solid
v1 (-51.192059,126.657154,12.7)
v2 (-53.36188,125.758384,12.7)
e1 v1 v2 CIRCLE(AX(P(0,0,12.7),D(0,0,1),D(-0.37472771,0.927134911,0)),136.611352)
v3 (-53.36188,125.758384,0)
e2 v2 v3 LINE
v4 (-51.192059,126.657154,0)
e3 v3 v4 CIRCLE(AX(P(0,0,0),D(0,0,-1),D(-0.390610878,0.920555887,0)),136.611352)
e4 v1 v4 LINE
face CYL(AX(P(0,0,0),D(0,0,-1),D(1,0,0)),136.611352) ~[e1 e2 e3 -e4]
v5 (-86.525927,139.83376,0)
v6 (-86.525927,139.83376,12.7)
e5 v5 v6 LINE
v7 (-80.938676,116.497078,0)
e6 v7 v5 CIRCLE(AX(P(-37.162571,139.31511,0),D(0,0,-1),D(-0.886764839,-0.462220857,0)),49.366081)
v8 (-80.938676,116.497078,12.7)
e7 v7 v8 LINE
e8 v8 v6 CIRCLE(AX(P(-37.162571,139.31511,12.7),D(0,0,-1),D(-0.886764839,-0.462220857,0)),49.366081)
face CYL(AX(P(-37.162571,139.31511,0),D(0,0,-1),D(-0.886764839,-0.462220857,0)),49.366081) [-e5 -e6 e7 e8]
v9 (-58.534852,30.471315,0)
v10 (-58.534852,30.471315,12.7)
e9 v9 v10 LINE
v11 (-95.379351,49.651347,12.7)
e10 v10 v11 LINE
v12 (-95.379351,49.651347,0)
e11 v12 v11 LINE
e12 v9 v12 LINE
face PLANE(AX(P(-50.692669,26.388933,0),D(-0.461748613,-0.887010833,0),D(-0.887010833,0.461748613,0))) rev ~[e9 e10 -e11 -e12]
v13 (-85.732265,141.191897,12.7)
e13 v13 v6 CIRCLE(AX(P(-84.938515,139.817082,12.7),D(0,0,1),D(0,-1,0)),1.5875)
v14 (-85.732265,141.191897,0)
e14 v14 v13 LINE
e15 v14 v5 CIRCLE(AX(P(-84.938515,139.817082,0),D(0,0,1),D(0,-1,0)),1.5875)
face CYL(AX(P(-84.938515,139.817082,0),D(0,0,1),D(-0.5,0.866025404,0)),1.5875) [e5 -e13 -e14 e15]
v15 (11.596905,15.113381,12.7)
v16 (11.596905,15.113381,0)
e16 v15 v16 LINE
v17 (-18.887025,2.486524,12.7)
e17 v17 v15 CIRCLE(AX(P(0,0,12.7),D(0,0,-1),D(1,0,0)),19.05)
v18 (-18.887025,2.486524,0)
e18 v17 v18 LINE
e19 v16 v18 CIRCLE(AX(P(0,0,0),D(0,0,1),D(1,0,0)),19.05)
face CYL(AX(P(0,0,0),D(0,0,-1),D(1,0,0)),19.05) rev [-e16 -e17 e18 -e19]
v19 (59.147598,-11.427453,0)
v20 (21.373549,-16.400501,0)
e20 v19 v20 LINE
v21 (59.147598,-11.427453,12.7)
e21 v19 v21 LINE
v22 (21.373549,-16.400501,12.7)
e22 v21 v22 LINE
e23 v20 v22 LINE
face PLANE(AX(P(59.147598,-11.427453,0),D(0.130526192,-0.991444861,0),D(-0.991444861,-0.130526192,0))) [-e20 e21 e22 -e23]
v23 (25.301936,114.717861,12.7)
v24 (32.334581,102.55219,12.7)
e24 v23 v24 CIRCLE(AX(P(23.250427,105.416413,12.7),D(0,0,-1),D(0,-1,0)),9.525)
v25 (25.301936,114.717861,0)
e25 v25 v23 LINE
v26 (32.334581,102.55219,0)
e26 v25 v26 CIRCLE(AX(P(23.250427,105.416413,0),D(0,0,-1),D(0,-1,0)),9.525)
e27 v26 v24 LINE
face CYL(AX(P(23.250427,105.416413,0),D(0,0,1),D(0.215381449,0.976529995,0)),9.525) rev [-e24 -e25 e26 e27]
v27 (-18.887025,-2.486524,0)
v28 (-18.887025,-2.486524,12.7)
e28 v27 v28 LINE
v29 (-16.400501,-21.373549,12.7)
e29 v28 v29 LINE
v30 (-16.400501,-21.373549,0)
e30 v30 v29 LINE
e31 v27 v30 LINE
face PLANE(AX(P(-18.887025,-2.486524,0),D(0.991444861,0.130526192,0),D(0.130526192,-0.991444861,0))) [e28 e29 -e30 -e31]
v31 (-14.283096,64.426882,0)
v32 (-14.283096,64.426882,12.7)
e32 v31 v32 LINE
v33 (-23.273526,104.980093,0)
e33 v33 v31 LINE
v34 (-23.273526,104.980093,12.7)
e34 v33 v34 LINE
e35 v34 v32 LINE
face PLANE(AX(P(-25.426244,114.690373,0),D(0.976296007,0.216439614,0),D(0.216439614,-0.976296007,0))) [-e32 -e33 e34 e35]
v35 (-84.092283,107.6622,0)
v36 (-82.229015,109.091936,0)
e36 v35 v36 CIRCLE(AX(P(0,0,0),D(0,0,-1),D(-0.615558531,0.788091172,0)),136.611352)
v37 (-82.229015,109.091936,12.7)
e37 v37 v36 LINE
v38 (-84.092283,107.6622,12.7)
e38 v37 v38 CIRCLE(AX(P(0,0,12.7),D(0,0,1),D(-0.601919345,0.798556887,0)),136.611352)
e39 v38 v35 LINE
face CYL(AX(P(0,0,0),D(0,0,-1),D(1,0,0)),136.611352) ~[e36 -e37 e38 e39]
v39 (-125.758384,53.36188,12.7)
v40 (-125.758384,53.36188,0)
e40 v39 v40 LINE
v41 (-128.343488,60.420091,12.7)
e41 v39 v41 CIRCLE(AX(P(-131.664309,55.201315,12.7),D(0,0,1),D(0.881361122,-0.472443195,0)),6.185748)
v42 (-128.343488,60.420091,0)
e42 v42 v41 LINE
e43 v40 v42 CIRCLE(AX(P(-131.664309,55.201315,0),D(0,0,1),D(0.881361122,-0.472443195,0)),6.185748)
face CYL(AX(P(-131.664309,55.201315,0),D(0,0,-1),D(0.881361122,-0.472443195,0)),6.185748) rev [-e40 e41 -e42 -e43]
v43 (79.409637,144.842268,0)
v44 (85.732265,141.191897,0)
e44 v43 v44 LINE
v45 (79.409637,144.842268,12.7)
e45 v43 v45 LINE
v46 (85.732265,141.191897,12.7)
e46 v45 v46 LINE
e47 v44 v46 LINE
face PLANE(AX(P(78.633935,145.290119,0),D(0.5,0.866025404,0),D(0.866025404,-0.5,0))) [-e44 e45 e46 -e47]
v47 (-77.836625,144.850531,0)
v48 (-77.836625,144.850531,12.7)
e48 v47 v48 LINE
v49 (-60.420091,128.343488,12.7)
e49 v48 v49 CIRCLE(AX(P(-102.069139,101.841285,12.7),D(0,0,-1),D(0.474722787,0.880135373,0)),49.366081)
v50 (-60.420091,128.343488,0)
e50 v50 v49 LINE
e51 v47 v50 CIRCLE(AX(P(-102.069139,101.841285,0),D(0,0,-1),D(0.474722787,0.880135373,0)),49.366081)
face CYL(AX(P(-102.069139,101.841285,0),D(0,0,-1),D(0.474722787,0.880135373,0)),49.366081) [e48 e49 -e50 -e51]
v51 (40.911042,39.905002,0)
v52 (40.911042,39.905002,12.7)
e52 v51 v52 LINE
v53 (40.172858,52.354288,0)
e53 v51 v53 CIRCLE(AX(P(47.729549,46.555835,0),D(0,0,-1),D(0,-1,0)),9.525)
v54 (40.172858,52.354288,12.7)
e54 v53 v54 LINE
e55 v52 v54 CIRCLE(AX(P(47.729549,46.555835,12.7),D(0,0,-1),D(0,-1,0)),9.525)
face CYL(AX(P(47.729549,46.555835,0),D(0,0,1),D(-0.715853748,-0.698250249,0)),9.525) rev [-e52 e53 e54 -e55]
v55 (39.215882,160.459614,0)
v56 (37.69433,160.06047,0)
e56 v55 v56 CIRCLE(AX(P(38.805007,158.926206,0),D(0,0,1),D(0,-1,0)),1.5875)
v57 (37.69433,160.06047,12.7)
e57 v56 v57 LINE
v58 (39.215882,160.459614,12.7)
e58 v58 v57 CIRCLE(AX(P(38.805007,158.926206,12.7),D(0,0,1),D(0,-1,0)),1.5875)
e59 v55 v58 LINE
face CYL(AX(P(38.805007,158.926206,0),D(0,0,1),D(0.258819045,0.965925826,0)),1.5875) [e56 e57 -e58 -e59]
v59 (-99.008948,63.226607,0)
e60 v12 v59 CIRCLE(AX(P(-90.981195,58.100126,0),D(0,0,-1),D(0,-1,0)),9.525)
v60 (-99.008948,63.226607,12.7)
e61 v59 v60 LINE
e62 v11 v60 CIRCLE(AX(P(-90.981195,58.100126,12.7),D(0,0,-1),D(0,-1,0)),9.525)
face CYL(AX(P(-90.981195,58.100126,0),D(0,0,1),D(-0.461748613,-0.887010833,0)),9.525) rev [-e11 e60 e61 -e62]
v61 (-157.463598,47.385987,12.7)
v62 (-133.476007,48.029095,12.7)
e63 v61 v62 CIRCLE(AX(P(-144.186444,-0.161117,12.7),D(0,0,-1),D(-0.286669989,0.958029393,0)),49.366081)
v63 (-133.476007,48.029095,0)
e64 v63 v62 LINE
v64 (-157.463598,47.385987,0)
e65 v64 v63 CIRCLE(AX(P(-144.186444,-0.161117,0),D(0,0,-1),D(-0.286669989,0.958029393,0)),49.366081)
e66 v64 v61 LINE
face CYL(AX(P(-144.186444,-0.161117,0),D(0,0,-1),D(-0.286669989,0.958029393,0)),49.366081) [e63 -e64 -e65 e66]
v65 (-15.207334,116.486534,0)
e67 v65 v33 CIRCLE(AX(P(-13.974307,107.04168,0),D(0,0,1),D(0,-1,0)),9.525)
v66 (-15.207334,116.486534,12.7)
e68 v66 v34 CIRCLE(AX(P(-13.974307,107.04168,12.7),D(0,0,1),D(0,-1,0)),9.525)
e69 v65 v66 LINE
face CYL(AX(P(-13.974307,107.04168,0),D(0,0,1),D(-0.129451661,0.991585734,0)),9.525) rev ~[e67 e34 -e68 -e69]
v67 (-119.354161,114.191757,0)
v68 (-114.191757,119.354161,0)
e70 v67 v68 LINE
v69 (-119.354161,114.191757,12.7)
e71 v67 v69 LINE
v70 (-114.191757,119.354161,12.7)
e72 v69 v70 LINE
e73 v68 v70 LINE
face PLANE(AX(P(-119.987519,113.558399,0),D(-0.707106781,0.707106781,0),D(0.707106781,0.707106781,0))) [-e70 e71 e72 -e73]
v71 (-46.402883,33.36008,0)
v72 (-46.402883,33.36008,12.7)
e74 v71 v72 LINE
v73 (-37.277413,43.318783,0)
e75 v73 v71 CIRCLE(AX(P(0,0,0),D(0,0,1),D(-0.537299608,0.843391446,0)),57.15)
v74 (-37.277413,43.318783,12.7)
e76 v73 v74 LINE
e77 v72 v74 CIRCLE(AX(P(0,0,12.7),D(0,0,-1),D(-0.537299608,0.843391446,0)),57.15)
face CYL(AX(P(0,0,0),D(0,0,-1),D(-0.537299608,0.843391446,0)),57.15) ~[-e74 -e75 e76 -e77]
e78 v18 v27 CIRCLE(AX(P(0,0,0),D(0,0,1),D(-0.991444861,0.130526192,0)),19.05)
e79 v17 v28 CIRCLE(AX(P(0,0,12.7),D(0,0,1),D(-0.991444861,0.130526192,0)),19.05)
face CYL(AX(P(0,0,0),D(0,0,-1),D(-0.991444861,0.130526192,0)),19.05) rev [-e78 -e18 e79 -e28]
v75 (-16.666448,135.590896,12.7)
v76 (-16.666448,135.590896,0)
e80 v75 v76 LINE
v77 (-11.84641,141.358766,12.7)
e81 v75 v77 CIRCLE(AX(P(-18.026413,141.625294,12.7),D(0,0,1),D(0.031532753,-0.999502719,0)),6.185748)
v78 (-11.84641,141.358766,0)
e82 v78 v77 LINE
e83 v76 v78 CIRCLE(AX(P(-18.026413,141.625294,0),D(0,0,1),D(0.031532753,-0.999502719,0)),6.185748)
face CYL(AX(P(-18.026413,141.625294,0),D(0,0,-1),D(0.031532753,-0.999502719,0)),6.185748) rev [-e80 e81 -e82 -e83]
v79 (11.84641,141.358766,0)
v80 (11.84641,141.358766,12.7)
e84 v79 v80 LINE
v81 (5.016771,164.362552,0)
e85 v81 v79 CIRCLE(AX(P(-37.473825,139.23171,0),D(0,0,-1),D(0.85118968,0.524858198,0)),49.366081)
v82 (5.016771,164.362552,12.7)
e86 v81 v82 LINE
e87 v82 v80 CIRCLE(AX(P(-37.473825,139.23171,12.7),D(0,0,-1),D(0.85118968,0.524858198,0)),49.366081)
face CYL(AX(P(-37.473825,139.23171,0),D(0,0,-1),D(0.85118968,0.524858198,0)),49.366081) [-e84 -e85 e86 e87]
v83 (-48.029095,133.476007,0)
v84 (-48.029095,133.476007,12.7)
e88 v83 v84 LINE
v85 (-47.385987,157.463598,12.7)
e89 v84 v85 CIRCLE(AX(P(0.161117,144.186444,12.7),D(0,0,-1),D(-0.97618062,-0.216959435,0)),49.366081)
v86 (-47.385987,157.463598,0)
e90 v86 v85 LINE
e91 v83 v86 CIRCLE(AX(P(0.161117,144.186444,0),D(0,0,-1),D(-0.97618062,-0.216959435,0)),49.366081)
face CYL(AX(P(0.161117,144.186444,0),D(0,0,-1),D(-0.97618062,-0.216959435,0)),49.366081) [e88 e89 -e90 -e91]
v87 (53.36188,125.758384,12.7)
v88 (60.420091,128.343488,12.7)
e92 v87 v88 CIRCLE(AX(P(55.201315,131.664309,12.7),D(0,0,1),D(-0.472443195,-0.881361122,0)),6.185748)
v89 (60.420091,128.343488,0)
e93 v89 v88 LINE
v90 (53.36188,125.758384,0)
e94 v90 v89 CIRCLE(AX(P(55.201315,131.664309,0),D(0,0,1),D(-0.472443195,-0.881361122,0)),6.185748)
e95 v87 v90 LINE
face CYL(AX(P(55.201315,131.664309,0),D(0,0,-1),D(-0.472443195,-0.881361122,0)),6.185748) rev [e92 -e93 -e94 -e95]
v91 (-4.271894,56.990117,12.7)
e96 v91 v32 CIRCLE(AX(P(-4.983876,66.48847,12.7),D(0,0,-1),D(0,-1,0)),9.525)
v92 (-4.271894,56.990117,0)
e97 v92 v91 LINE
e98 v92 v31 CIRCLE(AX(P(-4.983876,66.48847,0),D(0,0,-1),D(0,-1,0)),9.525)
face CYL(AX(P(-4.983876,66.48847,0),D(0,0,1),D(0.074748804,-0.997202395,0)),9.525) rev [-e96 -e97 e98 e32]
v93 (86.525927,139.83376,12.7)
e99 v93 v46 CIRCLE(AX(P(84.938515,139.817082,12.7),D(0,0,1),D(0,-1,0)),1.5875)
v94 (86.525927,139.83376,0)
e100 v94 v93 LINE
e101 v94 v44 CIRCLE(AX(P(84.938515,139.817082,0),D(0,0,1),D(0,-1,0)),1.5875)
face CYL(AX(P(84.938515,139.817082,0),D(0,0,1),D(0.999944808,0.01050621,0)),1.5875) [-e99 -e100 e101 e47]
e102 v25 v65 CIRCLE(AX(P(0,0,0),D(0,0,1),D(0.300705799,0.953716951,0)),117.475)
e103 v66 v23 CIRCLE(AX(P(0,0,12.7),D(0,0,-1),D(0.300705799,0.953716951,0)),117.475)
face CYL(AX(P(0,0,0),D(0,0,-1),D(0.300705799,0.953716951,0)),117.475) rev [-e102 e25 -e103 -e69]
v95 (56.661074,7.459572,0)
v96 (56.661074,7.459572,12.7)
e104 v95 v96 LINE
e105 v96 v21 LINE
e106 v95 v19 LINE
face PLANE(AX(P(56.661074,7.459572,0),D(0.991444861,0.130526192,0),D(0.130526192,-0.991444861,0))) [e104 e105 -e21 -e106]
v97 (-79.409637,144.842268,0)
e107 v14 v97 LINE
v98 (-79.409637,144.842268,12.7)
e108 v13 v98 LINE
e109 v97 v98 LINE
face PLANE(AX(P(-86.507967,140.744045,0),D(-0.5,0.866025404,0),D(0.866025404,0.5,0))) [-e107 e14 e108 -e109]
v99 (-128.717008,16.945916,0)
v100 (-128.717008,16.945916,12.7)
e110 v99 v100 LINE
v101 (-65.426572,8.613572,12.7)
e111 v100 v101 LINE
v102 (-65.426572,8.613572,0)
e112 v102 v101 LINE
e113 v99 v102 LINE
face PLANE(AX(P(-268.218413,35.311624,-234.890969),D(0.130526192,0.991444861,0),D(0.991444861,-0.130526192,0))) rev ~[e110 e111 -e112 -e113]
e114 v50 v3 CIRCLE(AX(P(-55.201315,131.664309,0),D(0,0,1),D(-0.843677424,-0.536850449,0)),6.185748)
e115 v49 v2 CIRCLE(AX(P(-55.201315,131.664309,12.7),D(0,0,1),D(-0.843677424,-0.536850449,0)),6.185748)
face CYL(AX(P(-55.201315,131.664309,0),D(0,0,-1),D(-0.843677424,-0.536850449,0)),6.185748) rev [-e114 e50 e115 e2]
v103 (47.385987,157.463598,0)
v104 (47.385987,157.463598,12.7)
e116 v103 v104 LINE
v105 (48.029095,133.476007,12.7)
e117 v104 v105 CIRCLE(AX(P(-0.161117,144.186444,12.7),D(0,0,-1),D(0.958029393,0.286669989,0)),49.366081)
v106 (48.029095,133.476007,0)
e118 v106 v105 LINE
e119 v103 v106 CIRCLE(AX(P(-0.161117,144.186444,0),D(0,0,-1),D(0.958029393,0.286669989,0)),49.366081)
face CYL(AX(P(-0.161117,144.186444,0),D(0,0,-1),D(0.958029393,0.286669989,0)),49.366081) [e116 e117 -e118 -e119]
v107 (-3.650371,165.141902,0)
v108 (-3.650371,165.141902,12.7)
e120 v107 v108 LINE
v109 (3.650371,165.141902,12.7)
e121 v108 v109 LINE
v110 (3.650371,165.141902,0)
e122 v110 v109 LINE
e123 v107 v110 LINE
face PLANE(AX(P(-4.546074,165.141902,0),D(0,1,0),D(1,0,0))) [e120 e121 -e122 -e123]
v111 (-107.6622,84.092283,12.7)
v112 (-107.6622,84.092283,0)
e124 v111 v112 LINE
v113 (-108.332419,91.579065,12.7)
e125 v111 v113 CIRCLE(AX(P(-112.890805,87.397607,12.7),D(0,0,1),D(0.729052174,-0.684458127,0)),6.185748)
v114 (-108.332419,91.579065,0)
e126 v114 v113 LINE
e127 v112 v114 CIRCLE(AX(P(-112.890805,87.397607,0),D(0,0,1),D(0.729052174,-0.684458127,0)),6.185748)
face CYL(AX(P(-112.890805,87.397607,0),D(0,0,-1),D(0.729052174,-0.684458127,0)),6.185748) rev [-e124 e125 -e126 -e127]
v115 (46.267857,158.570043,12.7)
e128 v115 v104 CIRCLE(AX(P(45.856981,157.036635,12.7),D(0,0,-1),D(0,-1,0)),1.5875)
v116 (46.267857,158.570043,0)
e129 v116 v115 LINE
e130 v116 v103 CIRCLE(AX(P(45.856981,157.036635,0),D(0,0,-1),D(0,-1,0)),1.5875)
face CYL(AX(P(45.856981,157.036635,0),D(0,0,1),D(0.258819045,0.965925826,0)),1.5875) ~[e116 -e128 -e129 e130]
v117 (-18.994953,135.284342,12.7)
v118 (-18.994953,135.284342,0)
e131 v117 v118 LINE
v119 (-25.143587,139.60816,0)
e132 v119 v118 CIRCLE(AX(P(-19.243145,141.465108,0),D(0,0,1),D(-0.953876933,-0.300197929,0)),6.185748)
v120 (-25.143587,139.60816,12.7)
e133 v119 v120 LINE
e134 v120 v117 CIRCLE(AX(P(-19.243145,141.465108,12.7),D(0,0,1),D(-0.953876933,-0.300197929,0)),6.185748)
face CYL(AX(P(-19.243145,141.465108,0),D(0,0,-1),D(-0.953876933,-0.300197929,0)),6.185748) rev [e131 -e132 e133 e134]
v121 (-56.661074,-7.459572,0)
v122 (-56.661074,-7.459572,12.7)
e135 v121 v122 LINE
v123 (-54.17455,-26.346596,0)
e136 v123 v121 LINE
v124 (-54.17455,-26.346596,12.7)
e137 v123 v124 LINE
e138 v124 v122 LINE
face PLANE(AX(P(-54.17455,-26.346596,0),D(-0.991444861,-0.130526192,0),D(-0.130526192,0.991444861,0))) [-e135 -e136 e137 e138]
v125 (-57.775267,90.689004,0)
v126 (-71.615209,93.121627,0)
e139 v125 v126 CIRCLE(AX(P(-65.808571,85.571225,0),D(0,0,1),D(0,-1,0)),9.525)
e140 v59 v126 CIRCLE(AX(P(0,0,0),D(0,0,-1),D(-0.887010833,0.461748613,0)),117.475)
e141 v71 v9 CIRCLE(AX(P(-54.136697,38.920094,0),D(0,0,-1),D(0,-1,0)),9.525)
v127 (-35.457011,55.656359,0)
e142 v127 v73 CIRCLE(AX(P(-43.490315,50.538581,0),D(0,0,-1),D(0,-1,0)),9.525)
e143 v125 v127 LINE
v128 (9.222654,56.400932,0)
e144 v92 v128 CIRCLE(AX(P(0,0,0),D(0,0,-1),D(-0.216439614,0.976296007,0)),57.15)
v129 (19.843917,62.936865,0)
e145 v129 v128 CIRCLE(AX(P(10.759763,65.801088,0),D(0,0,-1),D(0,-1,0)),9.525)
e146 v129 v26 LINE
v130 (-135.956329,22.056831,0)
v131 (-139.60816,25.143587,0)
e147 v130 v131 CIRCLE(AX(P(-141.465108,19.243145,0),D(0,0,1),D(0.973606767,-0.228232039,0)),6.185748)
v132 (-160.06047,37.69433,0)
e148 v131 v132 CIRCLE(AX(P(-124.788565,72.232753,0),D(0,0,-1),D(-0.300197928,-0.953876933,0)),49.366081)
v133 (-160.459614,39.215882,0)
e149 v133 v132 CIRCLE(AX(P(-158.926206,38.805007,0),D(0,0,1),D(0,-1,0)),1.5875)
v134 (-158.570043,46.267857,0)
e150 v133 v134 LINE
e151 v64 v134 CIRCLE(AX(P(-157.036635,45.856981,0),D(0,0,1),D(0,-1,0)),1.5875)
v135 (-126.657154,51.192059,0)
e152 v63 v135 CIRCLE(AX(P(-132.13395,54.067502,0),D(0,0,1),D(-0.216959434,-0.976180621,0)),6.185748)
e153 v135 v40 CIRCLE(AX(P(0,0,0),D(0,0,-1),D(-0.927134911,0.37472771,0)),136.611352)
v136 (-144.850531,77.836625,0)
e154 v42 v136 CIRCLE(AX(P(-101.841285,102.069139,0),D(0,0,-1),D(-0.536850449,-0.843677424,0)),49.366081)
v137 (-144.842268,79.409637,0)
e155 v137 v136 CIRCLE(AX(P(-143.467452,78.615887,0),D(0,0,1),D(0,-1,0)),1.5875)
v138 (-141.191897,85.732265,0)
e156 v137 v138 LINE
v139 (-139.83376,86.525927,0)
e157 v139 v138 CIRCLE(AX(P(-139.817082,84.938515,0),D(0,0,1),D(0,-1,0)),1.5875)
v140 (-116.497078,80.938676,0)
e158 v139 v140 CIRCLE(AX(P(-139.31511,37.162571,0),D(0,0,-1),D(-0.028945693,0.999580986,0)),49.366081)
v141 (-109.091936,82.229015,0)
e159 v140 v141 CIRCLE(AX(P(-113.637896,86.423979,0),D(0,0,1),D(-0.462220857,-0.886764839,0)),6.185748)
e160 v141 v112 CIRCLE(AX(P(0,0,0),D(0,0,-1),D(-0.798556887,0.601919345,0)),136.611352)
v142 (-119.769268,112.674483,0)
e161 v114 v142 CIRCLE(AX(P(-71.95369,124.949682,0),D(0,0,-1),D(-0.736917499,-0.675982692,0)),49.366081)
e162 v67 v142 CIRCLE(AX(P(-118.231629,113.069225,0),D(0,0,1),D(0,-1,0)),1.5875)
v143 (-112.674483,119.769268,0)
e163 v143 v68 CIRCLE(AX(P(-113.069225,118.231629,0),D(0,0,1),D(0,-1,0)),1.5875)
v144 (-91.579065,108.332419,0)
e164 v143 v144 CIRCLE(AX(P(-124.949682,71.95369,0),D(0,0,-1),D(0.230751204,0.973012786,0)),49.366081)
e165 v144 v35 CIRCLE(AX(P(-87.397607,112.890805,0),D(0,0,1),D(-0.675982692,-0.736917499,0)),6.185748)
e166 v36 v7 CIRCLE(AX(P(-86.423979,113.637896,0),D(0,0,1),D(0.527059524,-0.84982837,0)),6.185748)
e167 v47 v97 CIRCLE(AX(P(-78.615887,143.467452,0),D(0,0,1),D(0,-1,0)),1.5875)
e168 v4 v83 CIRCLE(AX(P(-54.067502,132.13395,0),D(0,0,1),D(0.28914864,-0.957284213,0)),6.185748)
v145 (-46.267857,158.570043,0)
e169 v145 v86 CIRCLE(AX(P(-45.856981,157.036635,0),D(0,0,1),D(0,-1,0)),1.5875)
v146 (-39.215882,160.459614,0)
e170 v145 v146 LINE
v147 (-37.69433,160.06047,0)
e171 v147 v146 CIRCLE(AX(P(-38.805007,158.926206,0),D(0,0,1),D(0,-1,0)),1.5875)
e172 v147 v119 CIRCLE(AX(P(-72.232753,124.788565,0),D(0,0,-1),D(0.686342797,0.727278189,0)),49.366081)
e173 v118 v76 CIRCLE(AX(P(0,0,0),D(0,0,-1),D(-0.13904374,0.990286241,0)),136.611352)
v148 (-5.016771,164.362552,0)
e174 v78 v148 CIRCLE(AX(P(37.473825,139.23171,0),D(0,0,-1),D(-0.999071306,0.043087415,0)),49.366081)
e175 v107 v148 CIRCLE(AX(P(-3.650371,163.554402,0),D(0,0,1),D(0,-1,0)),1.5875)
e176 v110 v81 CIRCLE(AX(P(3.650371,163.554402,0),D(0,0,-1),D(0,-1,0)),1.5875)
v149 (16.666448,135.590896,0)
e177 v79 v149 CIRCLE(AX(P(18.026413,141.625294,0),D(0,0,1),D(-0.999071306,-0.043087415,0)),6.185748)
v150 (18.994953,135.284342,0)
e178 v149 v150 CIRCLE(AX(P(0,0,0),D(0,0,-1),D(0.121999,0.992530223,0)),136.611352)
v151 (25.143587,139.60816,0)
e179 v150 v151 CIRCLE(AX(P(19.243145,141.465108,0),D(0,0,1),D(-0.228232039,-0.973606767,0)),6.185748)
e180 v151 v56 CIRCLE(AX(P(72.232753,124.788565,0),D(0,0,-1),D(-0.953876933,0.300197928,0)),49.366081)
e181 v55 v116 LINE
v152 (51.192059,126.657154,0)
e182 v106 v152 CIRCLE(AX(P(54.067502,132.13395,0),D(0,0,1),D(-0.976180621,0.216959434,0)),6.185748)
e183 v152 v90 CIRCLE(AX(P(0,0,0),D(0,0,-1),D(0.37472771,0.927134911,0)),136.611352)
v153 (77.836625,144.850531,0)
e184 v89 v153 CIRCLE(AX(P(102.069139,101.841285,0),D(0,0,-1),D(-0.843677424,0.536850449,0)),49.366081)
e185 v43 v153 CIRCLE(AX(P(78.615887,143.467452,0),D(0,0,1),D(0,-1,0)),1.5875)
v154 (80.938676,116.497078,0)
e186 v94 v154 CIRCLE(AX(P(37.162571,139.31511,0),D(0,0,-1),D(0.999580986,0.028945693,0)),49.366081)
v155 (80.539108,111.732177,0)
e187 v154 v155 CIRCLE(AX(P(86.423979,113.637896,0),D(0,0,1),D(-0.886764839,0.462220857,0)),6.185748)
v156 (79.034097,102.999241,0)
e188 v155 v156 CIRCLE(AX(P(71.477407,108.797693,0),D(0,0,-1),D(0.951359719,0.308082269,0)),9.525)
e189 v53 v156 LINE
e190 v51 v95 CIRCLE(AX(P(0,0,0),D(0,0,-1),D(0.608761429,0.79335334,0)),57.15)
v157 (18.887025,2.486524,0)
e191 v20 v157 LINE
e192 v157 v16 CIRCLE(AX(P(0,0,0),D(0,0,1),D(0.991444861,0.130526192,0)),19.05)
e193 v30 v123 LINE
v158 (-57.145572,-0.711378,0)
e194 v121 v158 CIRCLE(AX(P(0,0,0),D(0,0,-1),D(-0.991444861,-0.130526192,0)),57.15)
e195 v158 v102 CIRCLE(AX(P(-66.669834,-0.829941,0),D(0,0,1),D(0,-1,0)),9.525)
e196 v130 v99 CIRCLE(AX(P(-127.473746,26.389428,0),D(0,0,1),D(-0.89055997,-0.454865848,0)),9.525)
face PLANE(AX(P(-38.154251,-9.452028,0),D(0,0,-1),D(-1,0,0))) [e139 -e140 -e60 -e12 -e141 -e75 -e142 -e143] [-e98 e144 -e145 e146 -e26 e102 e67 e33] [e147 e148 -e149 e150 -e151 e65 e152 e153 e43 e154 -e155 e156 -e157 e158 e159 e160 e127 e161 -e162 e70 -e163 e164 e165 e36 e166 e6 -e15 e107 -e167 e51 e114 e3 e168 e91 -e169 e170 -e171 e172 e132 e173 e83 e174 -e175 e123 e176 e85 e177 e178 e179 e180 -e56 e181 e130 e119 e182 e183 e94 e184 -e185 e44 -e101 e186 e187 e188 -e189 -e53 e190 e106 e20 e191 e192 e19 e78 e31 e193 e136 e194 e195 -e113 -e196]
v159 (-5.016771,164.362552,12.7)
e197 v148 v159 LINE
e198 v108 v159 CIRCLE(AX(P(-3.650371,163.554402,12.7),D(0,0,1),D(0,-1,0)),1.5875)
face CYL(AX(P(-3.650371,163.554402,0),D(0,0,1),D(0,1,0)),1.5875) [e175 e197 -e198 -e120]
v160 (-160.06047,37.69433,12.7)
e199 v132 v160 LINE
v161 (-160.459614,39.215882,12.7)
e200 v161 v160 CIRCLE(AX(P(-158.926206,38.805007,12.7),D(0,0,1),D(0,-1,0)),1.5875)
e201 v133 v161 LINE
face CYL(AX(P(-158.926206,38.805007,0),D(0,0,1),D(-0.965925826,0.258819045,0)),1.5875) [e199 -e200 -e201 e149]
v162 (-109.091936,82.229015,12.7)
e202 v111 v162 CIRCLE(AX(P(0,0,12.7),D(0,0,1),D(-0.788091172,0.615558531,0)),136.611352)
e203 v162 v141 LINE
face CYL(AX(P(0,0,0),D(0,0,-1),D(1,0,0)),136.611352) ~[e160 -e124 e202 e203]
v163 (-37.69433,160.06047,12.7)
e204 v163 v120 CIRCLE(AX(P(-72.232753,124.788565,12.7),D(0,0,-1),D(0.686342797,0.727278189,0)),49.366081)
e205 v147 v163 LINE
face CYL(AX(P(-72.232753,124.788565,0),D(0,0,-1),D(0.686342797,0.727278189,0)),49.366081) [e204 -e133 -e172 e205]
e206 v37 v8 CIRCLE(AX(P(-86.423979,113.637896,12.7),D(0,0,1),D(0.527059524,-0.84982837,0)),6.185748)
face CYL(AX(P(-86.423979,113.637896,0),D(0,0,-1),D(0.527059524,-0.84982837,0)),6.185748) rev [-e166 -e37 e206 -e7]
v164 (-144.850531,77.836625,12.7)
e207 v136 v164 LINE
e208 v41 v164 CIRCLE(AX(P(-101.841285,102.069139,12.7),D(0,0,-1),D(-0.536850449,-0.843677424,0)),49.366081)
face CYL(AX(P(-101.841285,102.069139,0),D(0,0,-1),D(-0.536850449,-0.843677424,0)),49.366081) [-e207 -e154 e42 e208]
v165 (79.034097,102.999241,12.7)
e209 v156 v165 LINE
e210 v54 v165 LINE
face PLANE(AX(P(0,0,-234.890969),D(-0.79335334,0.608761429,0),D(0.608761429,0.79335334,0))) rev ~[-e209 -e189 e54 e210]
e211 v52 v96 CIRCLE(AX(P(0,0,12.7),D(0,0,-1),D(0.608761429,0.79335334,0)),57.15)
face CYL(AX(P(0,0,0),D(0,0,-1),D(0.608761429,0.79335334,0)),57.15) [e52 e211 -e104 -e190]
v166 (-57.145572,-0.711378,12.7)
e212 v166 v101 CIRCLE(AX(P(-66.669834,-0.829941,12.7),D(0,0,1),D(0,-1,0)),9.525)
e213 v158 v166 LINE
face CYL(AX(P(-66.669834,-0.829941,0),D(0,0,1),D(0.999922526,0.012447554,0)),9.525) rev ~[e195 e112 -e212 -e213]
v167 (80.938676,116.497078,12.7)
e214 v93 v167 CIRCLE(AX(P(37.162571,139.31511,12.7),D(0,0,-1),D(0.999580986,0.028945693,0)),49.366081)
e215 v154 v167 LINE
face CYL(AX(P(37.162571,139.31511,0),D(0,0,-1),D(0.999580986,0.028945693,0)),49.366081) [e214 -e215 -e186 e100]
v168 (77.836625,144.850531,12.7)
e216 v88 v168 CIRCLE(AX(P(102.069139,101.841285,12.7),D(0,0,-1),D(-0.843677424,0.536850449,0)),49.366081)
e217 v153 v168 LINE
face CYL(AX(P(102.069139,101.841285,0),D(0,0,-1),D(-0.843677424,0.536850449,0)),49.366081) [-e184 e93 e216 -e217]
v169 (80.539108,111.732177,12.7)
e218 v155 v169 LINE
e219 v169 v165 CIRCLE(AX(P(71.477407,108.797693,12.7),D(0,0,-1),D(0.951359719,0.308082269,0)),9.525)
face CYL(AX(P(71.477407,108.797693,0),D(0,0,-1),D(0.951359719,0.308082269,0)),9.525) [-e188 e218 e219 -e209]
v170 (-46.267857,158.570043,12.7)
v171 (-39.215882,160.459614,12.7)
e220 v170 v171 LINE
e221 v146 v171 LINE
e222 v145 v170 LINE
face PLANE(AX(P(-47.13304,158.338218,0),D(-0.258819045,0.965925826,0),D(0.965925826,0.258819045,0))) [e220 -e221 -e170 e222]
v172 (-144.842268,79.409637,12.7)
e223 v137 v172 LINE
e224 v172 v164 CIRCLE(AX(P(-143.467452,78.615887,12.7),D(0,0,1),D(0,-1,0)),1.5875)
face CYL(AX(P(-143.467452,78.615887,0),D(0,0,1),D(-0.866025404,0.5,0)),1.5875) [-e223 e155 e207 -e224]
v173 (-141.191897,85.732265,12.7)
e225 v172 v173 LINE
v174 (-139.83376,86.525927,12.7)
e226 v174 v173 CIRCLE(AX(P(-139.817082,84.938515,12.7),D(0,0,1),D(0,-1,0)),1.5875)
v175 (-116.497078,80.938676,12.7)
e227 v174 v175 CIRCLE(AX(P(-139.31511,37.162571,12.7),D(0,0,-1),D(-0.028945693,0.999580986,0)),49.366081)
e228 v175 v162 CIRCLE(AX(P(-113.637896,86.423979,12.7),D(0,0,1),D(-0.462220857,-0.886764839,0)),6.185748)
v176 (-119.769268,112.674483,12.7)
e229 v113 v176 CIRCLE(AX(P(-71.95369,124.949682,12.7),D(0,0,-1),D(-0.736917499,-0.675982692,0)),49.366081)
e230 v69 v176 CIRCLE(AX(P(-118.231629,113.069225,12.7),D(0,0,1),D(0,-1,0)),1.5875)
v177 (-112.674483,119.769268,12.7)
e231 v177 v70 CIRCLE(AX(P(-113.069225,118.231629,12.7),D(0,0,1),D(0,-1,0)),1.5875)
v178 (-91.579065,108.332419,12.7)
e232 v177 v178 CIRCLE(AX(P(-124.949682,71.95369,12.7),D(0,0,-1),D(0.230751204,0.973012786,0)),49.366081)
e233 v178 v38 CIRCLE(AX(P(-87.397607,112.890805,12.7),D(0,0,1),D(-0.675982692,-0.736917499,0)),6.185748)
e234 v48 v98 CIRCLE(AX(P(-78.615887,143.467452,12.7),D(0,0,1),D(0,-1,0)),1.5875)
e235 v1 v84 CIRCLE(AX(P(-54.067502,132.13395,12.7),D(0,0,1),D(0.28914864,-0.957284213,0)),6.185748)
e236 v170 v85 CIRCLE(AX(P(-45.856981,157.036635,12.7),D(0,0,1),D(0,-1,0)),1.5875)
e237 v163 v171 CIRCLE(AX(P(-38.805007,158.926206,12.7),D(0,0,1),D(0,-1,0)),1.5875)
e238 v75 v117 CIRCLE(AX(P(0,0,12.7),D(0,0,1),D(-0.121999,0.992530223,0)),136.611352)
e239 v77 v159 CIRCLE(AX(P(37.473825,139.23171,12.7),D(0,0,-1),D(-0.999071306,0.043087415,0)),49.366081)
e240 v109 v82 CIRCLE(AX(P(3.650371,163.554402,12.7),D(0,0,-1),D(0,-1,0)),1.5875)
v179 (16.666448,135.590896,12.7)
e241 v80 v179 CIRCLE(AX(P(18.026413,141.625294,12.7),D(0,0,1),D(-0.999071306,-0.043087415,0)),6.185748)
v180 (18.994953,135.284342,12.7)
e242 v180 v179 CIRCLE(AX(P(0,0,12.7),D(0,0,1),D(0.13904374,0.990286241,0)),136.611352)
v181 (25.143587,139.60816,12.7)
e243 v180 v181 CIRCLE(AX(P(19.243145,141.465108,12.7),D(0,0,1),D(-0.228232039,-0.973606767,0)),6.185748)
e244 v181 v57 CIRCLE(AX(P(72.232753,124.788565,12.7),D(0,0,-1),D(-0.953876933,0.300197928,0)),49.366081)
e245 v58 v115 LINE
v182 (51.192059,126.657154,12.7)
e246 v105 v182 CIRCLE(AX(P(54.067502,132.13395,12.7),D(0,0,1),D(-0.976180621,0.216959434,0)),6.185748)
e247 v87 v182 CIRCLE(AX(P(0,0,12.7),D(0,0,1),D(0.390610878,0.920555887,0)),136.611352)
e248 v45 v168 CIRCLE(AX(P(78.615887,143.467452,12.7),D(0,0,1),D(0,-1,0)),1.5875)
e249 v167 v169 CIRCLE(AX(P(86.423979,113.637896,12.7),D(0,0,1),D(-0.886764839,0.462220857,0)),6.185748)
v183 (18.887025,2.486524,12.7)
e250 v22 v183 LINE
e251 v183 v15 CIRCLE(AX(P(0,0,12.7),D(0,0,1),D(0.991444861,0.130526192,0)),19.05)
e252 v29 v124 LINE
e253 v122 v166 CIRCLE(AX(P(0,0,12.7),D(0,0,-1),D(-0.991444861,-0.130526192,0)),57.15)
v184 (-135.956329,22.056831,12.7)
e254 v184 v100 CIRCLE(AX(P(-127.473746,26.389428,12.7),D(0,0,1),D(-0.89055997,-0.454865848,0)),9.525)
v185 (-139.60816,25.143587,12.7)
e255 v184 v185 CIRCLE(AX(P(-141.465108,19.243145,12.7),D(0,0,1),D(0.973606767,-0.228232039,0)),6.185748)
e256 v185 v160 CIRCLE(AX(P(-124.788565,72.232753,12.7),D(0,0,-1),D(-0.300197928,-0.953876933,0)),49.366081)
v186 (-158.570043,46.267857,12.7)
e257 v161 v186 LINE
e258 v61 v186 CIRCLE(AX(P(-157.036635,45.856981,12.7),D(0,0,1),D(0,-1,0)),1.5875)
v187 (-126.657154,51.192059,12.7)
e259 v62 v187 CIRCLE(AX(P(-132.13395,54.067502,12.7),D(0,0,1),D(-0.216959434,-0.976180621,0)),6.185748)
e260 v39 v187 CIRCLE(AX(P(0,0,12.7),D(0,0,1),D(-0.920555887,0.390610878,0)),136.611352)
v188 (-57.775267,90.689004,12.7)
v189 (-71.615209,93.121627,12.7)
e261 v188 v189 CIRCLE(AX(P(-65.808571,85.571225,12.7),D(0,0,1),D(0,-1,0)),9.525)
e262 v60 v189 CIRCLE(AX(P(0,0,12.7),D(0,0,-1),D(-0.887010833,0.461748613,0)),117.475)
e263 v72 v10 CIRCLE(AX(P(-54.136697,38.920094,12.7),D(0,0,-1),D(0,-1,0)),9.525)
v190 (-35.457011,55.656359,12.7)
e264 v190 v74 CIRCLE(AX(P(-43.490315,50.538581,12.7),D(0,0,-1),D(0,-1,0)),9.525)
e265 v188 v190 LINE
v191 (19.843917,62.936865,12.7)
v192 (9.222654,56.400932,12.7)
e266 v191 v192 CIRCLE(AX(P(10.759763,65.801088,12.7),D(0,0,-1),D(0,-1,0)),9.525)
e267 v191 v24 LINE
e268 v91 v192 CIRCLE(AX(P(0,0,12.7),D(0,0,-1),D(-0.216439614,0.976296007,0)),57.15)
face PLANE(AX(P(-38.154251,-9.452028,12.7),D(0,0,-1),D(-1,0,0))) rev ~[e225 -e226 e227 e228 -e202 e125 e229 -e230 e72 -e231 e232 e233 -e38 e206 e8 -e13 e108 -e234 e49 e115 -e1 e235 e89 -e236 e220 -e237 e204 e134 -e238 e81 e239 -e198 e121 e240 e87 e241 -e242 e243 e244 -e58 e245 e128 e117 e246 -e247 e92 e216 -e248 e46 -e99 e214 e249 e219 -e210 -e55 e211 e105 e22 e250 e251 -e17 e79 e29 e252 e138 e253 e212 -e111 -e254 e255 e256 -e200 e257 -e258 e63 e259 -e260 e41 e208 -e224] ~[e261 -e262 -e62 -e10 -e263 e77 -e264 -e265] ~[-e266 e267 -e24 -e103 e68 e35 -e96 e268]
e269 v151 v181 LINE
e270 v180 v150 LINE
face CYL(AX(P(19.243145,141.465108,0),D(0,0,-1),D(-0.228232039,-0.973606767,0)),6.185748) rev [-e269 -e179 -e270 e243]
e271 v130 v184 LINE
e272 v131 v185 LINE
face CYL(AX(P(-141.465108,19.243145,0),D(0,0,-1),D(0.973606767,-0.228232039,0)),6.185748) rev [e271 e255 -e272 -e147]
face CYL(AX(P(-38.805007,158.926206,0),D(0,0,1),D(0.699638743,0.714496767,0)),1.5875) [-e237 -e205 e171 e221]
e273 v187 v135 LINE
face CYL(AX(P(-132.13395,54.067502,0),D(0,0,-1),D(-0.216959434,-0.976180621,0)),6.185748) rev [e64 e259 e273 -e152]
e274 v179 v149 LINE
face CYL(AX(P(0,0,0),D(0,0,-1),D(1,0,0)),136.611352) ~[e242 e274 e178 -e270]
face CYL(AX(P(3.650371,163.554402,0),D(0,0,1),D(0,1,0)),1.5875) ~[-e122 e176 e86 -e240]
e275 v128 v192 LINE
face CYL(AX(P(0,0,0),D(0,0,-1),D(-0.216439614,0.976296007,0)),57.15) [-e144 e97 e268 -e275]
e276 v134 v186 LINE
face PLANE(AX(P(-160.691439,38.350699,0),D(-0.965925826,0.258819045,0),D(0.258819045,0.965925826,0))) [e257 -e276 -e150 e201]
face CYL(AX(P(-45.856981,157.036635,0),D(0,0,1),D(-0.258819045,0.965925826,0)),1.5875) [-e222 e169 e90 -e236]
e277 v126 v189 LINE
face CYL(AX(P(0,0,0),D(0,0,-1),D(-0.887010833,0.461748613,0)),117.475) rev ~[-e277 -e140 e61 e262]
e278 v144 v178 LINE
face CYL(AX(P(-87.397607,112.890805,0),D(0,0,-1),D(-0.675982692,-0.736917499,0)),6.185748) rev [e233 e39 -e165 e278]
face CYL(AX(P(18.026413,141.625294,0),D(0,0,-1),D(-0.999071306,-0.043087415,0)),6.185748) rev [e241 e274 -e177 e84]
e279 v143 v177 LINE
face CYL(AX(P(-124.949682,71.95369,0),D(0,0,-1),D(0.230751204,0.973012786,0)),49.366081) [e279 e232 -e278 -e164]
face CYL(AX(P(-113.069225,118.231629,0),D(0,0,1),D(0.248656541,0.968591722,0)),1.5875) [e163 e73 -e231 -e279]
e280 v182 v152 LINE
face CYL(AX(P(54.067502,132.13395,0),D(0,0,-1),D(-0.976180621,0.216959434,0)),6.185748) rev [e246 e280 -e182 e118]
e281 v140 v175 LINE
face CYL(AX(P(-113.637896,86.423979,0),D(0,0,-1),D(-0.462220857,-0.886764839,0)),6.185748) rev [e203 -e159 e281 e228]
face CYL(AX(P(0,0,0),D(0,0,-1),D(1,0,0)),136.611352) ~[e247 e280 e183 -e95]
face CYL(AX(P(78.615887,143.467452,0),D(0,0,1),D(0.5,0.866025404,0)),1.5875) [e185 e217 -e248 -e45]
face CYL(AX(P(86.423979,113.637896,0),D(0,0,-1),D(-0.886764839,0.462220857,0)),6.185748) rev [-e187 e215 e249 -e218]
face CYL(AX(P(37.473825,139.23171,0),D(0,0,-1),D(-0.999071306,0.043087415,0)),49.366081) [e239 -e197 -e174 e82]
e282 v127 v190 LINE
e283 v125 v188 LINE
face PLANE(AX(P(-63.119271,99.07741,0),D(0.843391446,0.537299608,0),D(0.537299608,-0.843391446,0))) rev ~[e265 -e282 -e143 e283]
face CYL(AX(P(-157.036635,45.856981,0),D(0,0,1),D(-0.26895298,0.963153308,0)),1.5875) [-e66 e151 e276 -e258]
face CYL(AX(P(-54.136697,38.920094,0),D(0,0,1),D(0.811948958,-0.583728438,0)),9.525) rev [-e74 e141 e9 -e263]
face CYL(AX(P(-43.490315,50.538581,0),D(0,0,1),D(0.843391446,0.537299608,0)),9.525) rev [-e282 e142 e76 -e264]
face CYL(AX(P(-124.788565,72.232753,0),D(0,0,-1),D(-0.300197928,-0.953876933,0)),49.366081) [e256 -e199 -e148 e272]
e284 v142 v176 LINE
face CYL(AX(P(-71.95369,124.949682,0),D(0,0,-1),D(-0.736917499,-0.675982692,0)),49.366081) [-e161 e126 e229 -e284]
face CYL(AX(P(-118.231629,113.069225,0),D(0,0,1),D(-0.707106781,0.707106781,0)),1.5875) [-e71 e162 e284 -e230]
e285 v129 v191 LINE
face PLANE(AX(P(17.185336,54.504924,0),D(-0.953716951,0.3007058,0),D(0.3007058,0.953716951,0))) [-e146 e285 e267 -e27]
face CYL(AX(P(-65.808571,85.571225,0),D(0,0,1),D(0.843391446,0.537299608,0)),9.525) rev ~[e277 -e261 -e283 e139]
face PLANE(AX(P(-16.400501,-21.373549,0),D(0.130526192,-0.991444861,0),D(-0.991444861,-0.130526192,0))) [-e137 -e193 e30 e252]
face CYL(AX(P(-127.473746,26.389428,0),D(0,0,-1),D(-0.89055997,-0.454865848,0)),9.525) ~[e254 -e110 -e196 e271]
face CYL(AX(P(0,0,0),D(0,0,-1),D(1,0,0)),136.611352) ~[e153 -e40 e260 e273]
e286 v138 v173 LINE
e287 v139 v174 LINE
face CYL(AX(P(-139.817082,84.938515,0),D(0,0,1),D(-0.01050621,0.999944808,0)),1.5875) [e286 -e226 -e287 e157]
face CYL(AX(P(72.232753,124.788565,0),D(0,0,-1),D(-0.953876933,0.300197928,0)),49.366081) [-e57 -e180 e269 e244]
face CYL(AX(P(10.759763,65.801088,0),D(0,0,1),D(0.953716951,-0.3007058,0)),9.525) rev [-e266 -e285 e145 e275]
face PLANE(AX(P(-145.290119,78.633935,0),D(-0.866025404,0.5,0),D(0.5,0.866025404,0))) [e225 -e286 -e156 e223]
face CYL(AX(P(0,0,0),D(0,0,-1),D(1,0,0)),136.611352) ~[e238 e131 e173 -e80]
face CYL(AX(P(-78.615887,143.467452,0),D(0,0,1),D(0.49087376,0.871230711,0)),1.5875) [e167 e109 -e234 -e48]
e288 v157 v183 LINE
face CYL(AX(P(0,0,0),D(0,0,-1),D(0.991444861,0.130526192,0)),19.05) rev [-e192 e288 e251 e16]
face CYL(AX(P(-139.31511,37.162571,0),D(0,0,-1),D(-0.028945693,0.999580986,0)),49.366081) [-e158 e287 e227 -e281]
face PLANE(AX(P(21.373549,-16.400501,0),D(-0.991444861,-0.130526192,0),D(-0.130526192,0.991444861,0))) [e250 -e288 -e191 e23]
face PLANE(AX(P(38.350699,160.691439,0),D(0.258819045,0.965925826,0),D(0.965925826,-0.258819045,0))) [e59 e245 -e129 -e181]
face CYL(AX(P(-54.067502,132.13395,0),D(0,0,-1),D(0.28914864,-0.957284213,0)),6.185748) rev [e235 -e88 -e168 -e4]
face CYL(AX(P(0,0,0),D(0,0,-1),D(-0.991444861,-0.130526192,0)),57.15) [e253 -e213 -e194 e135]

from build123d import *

# Parameters (mm, degrees)
SKETCH3_R                = 136.611351841
EXTRUDE1_DEPTH           = 12.7
EXTRUDE2_DEPTH           = 12.7
FILLET2_R                = 1.5875
CIRPATTERN1_COUNT        = 24
FILLET2_OF_CIRPATTERN1_R = 1.5875
CUT_EXTRUDE1_DEPTH       = 234.890969431
CUT_EXTRUDE1_DEPTH_BACK  = 234.890969431
CUT_EXTRUDE2_REACH       = 232.646
SKETCH5_R                = 19.05
EXTRUDE3_DEPTH           = 12.7
CUT_EXTRUDE5_DEPTH       = 231.646456089
FILLET1_R                = 9.525
CUT_EXTRUDE7_DEPTH       = 12.7


with BuildPart() as part:
    # Sketch3 → Extrude1 (new body)
    with BuildSketch(Plane.XY):
        Circle(SKETCH3_R)
    extrude(amount=EXTRUDE1_DEPTH)

    # Sketch2 → Extrude2 (add)
    with BuildSketch(Plane.XY):
        with BuildLine():
            Line((-4.546074008, 165.141901983), (4.546074008, 165.141901983))
            ThreePointArc((4.546074008, 165.141901983), (9.719017906, 153.717756782), (11.846410355, 141.35876639))
            ThreePointArc((11.846410355, 141.35876639), (13.677789854, 137.226095775), (17.83135957, 135.442622788))
            Line((17.83135957, 135.442622788), (17.83135957, 110.042622788))
            Line((17.83135957, 110.042622788), (-17.83135957, 110.042622788))
            Line((-17.83135957, 110.042622788), (-17.83135957, 135.442622788))
            ThreePointArc((-17.83135957, 135.442622788), (-13.677789854, 137.226095775), (-11.846410355, 141.35876639))
            ThreePointArc((-11.846410355, 141.35876639), (-9.719017906, 153.717756782), (-4.546074008, 165.141901983))
        make_face()
    extrude2 = extrude(amount=EXTRUDE2_DEPTH)

    # Fillet2
    fillet2_edges = [part.edges().sort_by_distance(p)[0] for p in [
        (4.546074008, 165.141901983, 6.35),
        (-4.546074008, 165.141901983, 6.35),
    ]]
    fillet(fillet2_edges, radius=FILLET2_R)

    # CirPattern1: Extrude2 ×24 about axis
    cirpattern1_axis = Axis((0, 0, 0), (0, 0, 1))
    for i in range(1, CIRPATTERN1_COUNT):
        add(extrude2.rotate(cirpattern1_axis, i * 360 / CIRPATTERN1_COUNT))

    # Fillet2 of CirPattern1
    fillet2_of_cirpattern1_edges = [part.edges().sort_by_distance(p)[0] for p in [
        (-38.350699085, 160.691438662, 6.35),
        (-47.13303967, 158.338217595, 6.35),
        (-78.633935413, 145.290119351, 6.35),
        (-86.50796657, 140.744045343, 6.35),
        (-113.558398992, 119.987518509, 6.35),
        (-119.987518509, 113.558398992, 6.35),
        (-140.744045343, 86.50796657, 6.35),
        (-145.290119351, 78.633935413, 6.35),
        (-158.338217595, 47.13303967, 6.35),
        (-160.691438662, 38.350699085, 6.35),
        (-165.141901983, 4.546074008, 6.35),
        (-165.141901983, -4.546074008, 6.35),
        (-160.691438662, -38.350699085, 6.35),
        (-158.338217595, -47.13303967, 6.35),
        (-145.290119351, -78.633935413, 6.35),
        (-140.744045343, -86.50796657, 6.35),
        (-119.987518509, -113.558398992, 6.35),
        (-113.558398992, -119.987518509, 6.35),
        (-86.50796657, -140.744045343, 6.35),
        (-78.633935413, -145.290119351, 6.35),
        (-47.13303967, -158.338217595, 6.35),
        (-38.350699085, -160.691438662, 6.35),
        (-4.546074008, -165.141901983, 6.35),
        (4.546074008, -165.141901983, 6.35),
        (38.350699085, -160.691438662, 6.35),
        (47.13303967, -158.338217595, 6.35),
        (78.633935413, -145.290119351, 6.35),
        (86.50796657, -140.744045343, 6.35),
        (113.558398992, -119.987518509, 6.35),
        (119.987518509, -113.558398992, 6.35),
        (140.744045343, -86.50796657, 6.35),
        (145.290119351, -78.633935413, 6.35),
        (158.338217595, -47.13303967, 6.35),
        (160.691438662, -38.350699085, 6.35),
        (165.141901983, -4.546074008, 6.35),
        (165.141901983, 4.546074008, 6.35),
        (160.691438662, 38.350699085, 6.35),
        (158.338217595, 47.13303967, 6.35),
        (145.290119351, 78.633935413, 6.35),
        (140.744045343, 86.50796657, 6.35),
        (119.987518509, 113.558398992, 6.35),
        (113.558398992, 119.987518509, 6.35),
        (86.50796657, 140.744045343, 6.35),
        (78.633935413, 145.290119351, 6.35),
        (47.13303967, 158.338217595, 6.35),
        (38.350699085, 160.691438662, 6.35),
    ]]
    fillet(fillet2_of_cirpattern1_edges, radius=FILLET2_OF_CIRPATTERN1_R)

    # Sketch4 → Cut-Extrude1 (cut, two sides: drawn at the far end of the back side and taken through both)
    with BuildSketch(Plane.XY.offset(-CUT_EXTRUDE1_DEPTH_BACK)):
        Polygon((-1275.53694573, 167.92762467), (-268.218413087, 35.311623982), (0, 0), (164.689969961, 214.628147505), (783.198061827, 1020.683586133), (1560.818943381, -856.6592925), (-497.916064176, -1709.415253962), align=None)
    extrude(amount=CUT_EXTRUDE1_DEPTH + CUT_EXTRUDE1_DEPTH_BACK, mode=Mode.SUBTRACT)

    # Sketch5 → Cut-Extrude2 (cut, up to next)
    with BuildSketch(Plane.XY, mode=Mode.PRIVATE) as cut_extrude2_sk1:
        Circle(SKETCH5_R)
    cut_extrude2_tool1 = extrude(cut_extrude2_sk1.sketch, amount=CUT_EXTRUDE2_REACH, mode=Mode.PRIVATE) & part.part
    add(cut_extrude2_tool1.solids().sort_by_distance((0, 0, 0))[0], mode=Mode.SUBTRACT)

    # Sketch6 → Extrude3 (add)
    with BuildSketch(Plane.XY):
        with BuildLine():
            Line((-18.887024609, -2.486523962), (-16.400500647, -21.373548571))
            Line((-16.400500647, -21.373548571), (-54.174549866, -26.346596495))
            Line((-54.174549866, -26.346596495), (-56.661073828, -7.459571885))
            ThreePointArc((-56.661073828, -7.459571885), (-57.15, 0), (-56.661073828, 7.459571885))
            Line((-56.661073828, 7.459571885), (-18.887024609, 2.486523962))
            ThreePointArc((-18.887024609, 2.486523962), (-19.05, 0), (-18.887024609, -2.486523962))
        make_face()
        with BuildLine():
            Line((11.596905223, 15.113381133), (34.790715668, 45.340143398))
            ThreePointArc((34.790715668, 45.340143398), (49.493351826, 28.575), (56.661073828, 7.459571885))
            Line((56.661073828, 7.459571885), (59.147597789, -11.427452724))
            Line((59.147597789, -11.427452724), (21.373548571, -16.400500647))
            Line((21.373548571, -16.400500647), (18.887024609, 2.486523962))
            ThreePointArc((18.887024609, 2.486523962), (16.497783942, 9.525), (11.596905223, 15.113381133))
        make_face()
    extrude(amount=EXTRUDE3_DEPTH)

    # Sketch8 → Cut-Extrude5 (cut, through all)
    with BuildSketch(Plane.XY):
        with BuildLine():
            Line((-25.426243647, 114.690373436), (-12.369523937, 55.795316807))
            ThreePointArc((-12.369523937, 55.795316807), (2.492847988, 57.095605863), (17.185336442, 54.504923735))
            Line((17.185336442, 54.504923735), (35.325413797, 112.037898789))
            ThreePointArc((35.325413797, 112.037898789), (5.124187531, 117.36318983), (-25.426243647, 114.690373436))
        make_face()
        with BuildLine():
            Line((-63.119271491, 99.077410097), (-30.706672617, 48.199821128))
            ThreePointArc((-30.706672617, 48.199821128), (-42.135399799, 38.609980365), (-50.692669116, 26.388933246))
            Line((-50.692669116, 26.388933246), (-104.201597628, 54.24391834))
            ThreePointArc((-104.201597628, 54.24391834), (-86.611655142, 79.36495964), (-63.119271491, 99.077410097))
        make_face()
    extrude(amount=CUT_EXTRUDE5_DEPTH, mode=Mode.SUBTRACT)

    # Fillet1
    fillet1_edges = [part.edges().sort_by_distance(p)[0] for p in [
        (34.790715668, 45.340143398, 6.35),
        (-50.692669116, 26.388933246, 6.35),
        (-30.706672617, 48.199821128, 6.35),
        (-63.119271491, 99.077410097, 6.35),
        (-104.201597628, 54.24391834, 6.35),
        (-12.369523937, 55.795316807, 6.35),
        (17.185336442, 54.504923735, 6.35),
        (35.325413797, 112.037898789, 6.35),
        (-25.426243647, 114.690373436, 6.35),
        (-56.661073828, 7.459571885, 6.35),
    ]]
    fillet(fillet1_edges, radius=FILLET1_R)

    # Sketch9 → Cut-Extrude7 (cut)
    with BuildSketch(Plane.XY):
        with BuildLine():
            Line((79.034097122, 102.999240689), (83.809524096, 109.222698287))
            Line((83.809524096, 109.222698287), (80.539107883, 111.732176909))
            ThreePointArc((80.539107883, 111.732176909), (80.864034333, 107.180027092), (79.034097122, 102.999240689))
        make_face()
        with BuildLine():
            Line((-128.717007568, 16.945915528), (-136.494393434, 17.969827802))
            Line((-136.494393434, 17.969827802), (-135.956329304, 22.056830634))
            ThreePointArc((-135.956329304, 22.056830634), (-132.967230996, 18.608216933), (-128.717007568, 16.945915528))
        make_face()
    extrude(amount=CUT_EXTRUDE7_DEPTH, mode=Mode.SUBTRACT)


solid = part.part
